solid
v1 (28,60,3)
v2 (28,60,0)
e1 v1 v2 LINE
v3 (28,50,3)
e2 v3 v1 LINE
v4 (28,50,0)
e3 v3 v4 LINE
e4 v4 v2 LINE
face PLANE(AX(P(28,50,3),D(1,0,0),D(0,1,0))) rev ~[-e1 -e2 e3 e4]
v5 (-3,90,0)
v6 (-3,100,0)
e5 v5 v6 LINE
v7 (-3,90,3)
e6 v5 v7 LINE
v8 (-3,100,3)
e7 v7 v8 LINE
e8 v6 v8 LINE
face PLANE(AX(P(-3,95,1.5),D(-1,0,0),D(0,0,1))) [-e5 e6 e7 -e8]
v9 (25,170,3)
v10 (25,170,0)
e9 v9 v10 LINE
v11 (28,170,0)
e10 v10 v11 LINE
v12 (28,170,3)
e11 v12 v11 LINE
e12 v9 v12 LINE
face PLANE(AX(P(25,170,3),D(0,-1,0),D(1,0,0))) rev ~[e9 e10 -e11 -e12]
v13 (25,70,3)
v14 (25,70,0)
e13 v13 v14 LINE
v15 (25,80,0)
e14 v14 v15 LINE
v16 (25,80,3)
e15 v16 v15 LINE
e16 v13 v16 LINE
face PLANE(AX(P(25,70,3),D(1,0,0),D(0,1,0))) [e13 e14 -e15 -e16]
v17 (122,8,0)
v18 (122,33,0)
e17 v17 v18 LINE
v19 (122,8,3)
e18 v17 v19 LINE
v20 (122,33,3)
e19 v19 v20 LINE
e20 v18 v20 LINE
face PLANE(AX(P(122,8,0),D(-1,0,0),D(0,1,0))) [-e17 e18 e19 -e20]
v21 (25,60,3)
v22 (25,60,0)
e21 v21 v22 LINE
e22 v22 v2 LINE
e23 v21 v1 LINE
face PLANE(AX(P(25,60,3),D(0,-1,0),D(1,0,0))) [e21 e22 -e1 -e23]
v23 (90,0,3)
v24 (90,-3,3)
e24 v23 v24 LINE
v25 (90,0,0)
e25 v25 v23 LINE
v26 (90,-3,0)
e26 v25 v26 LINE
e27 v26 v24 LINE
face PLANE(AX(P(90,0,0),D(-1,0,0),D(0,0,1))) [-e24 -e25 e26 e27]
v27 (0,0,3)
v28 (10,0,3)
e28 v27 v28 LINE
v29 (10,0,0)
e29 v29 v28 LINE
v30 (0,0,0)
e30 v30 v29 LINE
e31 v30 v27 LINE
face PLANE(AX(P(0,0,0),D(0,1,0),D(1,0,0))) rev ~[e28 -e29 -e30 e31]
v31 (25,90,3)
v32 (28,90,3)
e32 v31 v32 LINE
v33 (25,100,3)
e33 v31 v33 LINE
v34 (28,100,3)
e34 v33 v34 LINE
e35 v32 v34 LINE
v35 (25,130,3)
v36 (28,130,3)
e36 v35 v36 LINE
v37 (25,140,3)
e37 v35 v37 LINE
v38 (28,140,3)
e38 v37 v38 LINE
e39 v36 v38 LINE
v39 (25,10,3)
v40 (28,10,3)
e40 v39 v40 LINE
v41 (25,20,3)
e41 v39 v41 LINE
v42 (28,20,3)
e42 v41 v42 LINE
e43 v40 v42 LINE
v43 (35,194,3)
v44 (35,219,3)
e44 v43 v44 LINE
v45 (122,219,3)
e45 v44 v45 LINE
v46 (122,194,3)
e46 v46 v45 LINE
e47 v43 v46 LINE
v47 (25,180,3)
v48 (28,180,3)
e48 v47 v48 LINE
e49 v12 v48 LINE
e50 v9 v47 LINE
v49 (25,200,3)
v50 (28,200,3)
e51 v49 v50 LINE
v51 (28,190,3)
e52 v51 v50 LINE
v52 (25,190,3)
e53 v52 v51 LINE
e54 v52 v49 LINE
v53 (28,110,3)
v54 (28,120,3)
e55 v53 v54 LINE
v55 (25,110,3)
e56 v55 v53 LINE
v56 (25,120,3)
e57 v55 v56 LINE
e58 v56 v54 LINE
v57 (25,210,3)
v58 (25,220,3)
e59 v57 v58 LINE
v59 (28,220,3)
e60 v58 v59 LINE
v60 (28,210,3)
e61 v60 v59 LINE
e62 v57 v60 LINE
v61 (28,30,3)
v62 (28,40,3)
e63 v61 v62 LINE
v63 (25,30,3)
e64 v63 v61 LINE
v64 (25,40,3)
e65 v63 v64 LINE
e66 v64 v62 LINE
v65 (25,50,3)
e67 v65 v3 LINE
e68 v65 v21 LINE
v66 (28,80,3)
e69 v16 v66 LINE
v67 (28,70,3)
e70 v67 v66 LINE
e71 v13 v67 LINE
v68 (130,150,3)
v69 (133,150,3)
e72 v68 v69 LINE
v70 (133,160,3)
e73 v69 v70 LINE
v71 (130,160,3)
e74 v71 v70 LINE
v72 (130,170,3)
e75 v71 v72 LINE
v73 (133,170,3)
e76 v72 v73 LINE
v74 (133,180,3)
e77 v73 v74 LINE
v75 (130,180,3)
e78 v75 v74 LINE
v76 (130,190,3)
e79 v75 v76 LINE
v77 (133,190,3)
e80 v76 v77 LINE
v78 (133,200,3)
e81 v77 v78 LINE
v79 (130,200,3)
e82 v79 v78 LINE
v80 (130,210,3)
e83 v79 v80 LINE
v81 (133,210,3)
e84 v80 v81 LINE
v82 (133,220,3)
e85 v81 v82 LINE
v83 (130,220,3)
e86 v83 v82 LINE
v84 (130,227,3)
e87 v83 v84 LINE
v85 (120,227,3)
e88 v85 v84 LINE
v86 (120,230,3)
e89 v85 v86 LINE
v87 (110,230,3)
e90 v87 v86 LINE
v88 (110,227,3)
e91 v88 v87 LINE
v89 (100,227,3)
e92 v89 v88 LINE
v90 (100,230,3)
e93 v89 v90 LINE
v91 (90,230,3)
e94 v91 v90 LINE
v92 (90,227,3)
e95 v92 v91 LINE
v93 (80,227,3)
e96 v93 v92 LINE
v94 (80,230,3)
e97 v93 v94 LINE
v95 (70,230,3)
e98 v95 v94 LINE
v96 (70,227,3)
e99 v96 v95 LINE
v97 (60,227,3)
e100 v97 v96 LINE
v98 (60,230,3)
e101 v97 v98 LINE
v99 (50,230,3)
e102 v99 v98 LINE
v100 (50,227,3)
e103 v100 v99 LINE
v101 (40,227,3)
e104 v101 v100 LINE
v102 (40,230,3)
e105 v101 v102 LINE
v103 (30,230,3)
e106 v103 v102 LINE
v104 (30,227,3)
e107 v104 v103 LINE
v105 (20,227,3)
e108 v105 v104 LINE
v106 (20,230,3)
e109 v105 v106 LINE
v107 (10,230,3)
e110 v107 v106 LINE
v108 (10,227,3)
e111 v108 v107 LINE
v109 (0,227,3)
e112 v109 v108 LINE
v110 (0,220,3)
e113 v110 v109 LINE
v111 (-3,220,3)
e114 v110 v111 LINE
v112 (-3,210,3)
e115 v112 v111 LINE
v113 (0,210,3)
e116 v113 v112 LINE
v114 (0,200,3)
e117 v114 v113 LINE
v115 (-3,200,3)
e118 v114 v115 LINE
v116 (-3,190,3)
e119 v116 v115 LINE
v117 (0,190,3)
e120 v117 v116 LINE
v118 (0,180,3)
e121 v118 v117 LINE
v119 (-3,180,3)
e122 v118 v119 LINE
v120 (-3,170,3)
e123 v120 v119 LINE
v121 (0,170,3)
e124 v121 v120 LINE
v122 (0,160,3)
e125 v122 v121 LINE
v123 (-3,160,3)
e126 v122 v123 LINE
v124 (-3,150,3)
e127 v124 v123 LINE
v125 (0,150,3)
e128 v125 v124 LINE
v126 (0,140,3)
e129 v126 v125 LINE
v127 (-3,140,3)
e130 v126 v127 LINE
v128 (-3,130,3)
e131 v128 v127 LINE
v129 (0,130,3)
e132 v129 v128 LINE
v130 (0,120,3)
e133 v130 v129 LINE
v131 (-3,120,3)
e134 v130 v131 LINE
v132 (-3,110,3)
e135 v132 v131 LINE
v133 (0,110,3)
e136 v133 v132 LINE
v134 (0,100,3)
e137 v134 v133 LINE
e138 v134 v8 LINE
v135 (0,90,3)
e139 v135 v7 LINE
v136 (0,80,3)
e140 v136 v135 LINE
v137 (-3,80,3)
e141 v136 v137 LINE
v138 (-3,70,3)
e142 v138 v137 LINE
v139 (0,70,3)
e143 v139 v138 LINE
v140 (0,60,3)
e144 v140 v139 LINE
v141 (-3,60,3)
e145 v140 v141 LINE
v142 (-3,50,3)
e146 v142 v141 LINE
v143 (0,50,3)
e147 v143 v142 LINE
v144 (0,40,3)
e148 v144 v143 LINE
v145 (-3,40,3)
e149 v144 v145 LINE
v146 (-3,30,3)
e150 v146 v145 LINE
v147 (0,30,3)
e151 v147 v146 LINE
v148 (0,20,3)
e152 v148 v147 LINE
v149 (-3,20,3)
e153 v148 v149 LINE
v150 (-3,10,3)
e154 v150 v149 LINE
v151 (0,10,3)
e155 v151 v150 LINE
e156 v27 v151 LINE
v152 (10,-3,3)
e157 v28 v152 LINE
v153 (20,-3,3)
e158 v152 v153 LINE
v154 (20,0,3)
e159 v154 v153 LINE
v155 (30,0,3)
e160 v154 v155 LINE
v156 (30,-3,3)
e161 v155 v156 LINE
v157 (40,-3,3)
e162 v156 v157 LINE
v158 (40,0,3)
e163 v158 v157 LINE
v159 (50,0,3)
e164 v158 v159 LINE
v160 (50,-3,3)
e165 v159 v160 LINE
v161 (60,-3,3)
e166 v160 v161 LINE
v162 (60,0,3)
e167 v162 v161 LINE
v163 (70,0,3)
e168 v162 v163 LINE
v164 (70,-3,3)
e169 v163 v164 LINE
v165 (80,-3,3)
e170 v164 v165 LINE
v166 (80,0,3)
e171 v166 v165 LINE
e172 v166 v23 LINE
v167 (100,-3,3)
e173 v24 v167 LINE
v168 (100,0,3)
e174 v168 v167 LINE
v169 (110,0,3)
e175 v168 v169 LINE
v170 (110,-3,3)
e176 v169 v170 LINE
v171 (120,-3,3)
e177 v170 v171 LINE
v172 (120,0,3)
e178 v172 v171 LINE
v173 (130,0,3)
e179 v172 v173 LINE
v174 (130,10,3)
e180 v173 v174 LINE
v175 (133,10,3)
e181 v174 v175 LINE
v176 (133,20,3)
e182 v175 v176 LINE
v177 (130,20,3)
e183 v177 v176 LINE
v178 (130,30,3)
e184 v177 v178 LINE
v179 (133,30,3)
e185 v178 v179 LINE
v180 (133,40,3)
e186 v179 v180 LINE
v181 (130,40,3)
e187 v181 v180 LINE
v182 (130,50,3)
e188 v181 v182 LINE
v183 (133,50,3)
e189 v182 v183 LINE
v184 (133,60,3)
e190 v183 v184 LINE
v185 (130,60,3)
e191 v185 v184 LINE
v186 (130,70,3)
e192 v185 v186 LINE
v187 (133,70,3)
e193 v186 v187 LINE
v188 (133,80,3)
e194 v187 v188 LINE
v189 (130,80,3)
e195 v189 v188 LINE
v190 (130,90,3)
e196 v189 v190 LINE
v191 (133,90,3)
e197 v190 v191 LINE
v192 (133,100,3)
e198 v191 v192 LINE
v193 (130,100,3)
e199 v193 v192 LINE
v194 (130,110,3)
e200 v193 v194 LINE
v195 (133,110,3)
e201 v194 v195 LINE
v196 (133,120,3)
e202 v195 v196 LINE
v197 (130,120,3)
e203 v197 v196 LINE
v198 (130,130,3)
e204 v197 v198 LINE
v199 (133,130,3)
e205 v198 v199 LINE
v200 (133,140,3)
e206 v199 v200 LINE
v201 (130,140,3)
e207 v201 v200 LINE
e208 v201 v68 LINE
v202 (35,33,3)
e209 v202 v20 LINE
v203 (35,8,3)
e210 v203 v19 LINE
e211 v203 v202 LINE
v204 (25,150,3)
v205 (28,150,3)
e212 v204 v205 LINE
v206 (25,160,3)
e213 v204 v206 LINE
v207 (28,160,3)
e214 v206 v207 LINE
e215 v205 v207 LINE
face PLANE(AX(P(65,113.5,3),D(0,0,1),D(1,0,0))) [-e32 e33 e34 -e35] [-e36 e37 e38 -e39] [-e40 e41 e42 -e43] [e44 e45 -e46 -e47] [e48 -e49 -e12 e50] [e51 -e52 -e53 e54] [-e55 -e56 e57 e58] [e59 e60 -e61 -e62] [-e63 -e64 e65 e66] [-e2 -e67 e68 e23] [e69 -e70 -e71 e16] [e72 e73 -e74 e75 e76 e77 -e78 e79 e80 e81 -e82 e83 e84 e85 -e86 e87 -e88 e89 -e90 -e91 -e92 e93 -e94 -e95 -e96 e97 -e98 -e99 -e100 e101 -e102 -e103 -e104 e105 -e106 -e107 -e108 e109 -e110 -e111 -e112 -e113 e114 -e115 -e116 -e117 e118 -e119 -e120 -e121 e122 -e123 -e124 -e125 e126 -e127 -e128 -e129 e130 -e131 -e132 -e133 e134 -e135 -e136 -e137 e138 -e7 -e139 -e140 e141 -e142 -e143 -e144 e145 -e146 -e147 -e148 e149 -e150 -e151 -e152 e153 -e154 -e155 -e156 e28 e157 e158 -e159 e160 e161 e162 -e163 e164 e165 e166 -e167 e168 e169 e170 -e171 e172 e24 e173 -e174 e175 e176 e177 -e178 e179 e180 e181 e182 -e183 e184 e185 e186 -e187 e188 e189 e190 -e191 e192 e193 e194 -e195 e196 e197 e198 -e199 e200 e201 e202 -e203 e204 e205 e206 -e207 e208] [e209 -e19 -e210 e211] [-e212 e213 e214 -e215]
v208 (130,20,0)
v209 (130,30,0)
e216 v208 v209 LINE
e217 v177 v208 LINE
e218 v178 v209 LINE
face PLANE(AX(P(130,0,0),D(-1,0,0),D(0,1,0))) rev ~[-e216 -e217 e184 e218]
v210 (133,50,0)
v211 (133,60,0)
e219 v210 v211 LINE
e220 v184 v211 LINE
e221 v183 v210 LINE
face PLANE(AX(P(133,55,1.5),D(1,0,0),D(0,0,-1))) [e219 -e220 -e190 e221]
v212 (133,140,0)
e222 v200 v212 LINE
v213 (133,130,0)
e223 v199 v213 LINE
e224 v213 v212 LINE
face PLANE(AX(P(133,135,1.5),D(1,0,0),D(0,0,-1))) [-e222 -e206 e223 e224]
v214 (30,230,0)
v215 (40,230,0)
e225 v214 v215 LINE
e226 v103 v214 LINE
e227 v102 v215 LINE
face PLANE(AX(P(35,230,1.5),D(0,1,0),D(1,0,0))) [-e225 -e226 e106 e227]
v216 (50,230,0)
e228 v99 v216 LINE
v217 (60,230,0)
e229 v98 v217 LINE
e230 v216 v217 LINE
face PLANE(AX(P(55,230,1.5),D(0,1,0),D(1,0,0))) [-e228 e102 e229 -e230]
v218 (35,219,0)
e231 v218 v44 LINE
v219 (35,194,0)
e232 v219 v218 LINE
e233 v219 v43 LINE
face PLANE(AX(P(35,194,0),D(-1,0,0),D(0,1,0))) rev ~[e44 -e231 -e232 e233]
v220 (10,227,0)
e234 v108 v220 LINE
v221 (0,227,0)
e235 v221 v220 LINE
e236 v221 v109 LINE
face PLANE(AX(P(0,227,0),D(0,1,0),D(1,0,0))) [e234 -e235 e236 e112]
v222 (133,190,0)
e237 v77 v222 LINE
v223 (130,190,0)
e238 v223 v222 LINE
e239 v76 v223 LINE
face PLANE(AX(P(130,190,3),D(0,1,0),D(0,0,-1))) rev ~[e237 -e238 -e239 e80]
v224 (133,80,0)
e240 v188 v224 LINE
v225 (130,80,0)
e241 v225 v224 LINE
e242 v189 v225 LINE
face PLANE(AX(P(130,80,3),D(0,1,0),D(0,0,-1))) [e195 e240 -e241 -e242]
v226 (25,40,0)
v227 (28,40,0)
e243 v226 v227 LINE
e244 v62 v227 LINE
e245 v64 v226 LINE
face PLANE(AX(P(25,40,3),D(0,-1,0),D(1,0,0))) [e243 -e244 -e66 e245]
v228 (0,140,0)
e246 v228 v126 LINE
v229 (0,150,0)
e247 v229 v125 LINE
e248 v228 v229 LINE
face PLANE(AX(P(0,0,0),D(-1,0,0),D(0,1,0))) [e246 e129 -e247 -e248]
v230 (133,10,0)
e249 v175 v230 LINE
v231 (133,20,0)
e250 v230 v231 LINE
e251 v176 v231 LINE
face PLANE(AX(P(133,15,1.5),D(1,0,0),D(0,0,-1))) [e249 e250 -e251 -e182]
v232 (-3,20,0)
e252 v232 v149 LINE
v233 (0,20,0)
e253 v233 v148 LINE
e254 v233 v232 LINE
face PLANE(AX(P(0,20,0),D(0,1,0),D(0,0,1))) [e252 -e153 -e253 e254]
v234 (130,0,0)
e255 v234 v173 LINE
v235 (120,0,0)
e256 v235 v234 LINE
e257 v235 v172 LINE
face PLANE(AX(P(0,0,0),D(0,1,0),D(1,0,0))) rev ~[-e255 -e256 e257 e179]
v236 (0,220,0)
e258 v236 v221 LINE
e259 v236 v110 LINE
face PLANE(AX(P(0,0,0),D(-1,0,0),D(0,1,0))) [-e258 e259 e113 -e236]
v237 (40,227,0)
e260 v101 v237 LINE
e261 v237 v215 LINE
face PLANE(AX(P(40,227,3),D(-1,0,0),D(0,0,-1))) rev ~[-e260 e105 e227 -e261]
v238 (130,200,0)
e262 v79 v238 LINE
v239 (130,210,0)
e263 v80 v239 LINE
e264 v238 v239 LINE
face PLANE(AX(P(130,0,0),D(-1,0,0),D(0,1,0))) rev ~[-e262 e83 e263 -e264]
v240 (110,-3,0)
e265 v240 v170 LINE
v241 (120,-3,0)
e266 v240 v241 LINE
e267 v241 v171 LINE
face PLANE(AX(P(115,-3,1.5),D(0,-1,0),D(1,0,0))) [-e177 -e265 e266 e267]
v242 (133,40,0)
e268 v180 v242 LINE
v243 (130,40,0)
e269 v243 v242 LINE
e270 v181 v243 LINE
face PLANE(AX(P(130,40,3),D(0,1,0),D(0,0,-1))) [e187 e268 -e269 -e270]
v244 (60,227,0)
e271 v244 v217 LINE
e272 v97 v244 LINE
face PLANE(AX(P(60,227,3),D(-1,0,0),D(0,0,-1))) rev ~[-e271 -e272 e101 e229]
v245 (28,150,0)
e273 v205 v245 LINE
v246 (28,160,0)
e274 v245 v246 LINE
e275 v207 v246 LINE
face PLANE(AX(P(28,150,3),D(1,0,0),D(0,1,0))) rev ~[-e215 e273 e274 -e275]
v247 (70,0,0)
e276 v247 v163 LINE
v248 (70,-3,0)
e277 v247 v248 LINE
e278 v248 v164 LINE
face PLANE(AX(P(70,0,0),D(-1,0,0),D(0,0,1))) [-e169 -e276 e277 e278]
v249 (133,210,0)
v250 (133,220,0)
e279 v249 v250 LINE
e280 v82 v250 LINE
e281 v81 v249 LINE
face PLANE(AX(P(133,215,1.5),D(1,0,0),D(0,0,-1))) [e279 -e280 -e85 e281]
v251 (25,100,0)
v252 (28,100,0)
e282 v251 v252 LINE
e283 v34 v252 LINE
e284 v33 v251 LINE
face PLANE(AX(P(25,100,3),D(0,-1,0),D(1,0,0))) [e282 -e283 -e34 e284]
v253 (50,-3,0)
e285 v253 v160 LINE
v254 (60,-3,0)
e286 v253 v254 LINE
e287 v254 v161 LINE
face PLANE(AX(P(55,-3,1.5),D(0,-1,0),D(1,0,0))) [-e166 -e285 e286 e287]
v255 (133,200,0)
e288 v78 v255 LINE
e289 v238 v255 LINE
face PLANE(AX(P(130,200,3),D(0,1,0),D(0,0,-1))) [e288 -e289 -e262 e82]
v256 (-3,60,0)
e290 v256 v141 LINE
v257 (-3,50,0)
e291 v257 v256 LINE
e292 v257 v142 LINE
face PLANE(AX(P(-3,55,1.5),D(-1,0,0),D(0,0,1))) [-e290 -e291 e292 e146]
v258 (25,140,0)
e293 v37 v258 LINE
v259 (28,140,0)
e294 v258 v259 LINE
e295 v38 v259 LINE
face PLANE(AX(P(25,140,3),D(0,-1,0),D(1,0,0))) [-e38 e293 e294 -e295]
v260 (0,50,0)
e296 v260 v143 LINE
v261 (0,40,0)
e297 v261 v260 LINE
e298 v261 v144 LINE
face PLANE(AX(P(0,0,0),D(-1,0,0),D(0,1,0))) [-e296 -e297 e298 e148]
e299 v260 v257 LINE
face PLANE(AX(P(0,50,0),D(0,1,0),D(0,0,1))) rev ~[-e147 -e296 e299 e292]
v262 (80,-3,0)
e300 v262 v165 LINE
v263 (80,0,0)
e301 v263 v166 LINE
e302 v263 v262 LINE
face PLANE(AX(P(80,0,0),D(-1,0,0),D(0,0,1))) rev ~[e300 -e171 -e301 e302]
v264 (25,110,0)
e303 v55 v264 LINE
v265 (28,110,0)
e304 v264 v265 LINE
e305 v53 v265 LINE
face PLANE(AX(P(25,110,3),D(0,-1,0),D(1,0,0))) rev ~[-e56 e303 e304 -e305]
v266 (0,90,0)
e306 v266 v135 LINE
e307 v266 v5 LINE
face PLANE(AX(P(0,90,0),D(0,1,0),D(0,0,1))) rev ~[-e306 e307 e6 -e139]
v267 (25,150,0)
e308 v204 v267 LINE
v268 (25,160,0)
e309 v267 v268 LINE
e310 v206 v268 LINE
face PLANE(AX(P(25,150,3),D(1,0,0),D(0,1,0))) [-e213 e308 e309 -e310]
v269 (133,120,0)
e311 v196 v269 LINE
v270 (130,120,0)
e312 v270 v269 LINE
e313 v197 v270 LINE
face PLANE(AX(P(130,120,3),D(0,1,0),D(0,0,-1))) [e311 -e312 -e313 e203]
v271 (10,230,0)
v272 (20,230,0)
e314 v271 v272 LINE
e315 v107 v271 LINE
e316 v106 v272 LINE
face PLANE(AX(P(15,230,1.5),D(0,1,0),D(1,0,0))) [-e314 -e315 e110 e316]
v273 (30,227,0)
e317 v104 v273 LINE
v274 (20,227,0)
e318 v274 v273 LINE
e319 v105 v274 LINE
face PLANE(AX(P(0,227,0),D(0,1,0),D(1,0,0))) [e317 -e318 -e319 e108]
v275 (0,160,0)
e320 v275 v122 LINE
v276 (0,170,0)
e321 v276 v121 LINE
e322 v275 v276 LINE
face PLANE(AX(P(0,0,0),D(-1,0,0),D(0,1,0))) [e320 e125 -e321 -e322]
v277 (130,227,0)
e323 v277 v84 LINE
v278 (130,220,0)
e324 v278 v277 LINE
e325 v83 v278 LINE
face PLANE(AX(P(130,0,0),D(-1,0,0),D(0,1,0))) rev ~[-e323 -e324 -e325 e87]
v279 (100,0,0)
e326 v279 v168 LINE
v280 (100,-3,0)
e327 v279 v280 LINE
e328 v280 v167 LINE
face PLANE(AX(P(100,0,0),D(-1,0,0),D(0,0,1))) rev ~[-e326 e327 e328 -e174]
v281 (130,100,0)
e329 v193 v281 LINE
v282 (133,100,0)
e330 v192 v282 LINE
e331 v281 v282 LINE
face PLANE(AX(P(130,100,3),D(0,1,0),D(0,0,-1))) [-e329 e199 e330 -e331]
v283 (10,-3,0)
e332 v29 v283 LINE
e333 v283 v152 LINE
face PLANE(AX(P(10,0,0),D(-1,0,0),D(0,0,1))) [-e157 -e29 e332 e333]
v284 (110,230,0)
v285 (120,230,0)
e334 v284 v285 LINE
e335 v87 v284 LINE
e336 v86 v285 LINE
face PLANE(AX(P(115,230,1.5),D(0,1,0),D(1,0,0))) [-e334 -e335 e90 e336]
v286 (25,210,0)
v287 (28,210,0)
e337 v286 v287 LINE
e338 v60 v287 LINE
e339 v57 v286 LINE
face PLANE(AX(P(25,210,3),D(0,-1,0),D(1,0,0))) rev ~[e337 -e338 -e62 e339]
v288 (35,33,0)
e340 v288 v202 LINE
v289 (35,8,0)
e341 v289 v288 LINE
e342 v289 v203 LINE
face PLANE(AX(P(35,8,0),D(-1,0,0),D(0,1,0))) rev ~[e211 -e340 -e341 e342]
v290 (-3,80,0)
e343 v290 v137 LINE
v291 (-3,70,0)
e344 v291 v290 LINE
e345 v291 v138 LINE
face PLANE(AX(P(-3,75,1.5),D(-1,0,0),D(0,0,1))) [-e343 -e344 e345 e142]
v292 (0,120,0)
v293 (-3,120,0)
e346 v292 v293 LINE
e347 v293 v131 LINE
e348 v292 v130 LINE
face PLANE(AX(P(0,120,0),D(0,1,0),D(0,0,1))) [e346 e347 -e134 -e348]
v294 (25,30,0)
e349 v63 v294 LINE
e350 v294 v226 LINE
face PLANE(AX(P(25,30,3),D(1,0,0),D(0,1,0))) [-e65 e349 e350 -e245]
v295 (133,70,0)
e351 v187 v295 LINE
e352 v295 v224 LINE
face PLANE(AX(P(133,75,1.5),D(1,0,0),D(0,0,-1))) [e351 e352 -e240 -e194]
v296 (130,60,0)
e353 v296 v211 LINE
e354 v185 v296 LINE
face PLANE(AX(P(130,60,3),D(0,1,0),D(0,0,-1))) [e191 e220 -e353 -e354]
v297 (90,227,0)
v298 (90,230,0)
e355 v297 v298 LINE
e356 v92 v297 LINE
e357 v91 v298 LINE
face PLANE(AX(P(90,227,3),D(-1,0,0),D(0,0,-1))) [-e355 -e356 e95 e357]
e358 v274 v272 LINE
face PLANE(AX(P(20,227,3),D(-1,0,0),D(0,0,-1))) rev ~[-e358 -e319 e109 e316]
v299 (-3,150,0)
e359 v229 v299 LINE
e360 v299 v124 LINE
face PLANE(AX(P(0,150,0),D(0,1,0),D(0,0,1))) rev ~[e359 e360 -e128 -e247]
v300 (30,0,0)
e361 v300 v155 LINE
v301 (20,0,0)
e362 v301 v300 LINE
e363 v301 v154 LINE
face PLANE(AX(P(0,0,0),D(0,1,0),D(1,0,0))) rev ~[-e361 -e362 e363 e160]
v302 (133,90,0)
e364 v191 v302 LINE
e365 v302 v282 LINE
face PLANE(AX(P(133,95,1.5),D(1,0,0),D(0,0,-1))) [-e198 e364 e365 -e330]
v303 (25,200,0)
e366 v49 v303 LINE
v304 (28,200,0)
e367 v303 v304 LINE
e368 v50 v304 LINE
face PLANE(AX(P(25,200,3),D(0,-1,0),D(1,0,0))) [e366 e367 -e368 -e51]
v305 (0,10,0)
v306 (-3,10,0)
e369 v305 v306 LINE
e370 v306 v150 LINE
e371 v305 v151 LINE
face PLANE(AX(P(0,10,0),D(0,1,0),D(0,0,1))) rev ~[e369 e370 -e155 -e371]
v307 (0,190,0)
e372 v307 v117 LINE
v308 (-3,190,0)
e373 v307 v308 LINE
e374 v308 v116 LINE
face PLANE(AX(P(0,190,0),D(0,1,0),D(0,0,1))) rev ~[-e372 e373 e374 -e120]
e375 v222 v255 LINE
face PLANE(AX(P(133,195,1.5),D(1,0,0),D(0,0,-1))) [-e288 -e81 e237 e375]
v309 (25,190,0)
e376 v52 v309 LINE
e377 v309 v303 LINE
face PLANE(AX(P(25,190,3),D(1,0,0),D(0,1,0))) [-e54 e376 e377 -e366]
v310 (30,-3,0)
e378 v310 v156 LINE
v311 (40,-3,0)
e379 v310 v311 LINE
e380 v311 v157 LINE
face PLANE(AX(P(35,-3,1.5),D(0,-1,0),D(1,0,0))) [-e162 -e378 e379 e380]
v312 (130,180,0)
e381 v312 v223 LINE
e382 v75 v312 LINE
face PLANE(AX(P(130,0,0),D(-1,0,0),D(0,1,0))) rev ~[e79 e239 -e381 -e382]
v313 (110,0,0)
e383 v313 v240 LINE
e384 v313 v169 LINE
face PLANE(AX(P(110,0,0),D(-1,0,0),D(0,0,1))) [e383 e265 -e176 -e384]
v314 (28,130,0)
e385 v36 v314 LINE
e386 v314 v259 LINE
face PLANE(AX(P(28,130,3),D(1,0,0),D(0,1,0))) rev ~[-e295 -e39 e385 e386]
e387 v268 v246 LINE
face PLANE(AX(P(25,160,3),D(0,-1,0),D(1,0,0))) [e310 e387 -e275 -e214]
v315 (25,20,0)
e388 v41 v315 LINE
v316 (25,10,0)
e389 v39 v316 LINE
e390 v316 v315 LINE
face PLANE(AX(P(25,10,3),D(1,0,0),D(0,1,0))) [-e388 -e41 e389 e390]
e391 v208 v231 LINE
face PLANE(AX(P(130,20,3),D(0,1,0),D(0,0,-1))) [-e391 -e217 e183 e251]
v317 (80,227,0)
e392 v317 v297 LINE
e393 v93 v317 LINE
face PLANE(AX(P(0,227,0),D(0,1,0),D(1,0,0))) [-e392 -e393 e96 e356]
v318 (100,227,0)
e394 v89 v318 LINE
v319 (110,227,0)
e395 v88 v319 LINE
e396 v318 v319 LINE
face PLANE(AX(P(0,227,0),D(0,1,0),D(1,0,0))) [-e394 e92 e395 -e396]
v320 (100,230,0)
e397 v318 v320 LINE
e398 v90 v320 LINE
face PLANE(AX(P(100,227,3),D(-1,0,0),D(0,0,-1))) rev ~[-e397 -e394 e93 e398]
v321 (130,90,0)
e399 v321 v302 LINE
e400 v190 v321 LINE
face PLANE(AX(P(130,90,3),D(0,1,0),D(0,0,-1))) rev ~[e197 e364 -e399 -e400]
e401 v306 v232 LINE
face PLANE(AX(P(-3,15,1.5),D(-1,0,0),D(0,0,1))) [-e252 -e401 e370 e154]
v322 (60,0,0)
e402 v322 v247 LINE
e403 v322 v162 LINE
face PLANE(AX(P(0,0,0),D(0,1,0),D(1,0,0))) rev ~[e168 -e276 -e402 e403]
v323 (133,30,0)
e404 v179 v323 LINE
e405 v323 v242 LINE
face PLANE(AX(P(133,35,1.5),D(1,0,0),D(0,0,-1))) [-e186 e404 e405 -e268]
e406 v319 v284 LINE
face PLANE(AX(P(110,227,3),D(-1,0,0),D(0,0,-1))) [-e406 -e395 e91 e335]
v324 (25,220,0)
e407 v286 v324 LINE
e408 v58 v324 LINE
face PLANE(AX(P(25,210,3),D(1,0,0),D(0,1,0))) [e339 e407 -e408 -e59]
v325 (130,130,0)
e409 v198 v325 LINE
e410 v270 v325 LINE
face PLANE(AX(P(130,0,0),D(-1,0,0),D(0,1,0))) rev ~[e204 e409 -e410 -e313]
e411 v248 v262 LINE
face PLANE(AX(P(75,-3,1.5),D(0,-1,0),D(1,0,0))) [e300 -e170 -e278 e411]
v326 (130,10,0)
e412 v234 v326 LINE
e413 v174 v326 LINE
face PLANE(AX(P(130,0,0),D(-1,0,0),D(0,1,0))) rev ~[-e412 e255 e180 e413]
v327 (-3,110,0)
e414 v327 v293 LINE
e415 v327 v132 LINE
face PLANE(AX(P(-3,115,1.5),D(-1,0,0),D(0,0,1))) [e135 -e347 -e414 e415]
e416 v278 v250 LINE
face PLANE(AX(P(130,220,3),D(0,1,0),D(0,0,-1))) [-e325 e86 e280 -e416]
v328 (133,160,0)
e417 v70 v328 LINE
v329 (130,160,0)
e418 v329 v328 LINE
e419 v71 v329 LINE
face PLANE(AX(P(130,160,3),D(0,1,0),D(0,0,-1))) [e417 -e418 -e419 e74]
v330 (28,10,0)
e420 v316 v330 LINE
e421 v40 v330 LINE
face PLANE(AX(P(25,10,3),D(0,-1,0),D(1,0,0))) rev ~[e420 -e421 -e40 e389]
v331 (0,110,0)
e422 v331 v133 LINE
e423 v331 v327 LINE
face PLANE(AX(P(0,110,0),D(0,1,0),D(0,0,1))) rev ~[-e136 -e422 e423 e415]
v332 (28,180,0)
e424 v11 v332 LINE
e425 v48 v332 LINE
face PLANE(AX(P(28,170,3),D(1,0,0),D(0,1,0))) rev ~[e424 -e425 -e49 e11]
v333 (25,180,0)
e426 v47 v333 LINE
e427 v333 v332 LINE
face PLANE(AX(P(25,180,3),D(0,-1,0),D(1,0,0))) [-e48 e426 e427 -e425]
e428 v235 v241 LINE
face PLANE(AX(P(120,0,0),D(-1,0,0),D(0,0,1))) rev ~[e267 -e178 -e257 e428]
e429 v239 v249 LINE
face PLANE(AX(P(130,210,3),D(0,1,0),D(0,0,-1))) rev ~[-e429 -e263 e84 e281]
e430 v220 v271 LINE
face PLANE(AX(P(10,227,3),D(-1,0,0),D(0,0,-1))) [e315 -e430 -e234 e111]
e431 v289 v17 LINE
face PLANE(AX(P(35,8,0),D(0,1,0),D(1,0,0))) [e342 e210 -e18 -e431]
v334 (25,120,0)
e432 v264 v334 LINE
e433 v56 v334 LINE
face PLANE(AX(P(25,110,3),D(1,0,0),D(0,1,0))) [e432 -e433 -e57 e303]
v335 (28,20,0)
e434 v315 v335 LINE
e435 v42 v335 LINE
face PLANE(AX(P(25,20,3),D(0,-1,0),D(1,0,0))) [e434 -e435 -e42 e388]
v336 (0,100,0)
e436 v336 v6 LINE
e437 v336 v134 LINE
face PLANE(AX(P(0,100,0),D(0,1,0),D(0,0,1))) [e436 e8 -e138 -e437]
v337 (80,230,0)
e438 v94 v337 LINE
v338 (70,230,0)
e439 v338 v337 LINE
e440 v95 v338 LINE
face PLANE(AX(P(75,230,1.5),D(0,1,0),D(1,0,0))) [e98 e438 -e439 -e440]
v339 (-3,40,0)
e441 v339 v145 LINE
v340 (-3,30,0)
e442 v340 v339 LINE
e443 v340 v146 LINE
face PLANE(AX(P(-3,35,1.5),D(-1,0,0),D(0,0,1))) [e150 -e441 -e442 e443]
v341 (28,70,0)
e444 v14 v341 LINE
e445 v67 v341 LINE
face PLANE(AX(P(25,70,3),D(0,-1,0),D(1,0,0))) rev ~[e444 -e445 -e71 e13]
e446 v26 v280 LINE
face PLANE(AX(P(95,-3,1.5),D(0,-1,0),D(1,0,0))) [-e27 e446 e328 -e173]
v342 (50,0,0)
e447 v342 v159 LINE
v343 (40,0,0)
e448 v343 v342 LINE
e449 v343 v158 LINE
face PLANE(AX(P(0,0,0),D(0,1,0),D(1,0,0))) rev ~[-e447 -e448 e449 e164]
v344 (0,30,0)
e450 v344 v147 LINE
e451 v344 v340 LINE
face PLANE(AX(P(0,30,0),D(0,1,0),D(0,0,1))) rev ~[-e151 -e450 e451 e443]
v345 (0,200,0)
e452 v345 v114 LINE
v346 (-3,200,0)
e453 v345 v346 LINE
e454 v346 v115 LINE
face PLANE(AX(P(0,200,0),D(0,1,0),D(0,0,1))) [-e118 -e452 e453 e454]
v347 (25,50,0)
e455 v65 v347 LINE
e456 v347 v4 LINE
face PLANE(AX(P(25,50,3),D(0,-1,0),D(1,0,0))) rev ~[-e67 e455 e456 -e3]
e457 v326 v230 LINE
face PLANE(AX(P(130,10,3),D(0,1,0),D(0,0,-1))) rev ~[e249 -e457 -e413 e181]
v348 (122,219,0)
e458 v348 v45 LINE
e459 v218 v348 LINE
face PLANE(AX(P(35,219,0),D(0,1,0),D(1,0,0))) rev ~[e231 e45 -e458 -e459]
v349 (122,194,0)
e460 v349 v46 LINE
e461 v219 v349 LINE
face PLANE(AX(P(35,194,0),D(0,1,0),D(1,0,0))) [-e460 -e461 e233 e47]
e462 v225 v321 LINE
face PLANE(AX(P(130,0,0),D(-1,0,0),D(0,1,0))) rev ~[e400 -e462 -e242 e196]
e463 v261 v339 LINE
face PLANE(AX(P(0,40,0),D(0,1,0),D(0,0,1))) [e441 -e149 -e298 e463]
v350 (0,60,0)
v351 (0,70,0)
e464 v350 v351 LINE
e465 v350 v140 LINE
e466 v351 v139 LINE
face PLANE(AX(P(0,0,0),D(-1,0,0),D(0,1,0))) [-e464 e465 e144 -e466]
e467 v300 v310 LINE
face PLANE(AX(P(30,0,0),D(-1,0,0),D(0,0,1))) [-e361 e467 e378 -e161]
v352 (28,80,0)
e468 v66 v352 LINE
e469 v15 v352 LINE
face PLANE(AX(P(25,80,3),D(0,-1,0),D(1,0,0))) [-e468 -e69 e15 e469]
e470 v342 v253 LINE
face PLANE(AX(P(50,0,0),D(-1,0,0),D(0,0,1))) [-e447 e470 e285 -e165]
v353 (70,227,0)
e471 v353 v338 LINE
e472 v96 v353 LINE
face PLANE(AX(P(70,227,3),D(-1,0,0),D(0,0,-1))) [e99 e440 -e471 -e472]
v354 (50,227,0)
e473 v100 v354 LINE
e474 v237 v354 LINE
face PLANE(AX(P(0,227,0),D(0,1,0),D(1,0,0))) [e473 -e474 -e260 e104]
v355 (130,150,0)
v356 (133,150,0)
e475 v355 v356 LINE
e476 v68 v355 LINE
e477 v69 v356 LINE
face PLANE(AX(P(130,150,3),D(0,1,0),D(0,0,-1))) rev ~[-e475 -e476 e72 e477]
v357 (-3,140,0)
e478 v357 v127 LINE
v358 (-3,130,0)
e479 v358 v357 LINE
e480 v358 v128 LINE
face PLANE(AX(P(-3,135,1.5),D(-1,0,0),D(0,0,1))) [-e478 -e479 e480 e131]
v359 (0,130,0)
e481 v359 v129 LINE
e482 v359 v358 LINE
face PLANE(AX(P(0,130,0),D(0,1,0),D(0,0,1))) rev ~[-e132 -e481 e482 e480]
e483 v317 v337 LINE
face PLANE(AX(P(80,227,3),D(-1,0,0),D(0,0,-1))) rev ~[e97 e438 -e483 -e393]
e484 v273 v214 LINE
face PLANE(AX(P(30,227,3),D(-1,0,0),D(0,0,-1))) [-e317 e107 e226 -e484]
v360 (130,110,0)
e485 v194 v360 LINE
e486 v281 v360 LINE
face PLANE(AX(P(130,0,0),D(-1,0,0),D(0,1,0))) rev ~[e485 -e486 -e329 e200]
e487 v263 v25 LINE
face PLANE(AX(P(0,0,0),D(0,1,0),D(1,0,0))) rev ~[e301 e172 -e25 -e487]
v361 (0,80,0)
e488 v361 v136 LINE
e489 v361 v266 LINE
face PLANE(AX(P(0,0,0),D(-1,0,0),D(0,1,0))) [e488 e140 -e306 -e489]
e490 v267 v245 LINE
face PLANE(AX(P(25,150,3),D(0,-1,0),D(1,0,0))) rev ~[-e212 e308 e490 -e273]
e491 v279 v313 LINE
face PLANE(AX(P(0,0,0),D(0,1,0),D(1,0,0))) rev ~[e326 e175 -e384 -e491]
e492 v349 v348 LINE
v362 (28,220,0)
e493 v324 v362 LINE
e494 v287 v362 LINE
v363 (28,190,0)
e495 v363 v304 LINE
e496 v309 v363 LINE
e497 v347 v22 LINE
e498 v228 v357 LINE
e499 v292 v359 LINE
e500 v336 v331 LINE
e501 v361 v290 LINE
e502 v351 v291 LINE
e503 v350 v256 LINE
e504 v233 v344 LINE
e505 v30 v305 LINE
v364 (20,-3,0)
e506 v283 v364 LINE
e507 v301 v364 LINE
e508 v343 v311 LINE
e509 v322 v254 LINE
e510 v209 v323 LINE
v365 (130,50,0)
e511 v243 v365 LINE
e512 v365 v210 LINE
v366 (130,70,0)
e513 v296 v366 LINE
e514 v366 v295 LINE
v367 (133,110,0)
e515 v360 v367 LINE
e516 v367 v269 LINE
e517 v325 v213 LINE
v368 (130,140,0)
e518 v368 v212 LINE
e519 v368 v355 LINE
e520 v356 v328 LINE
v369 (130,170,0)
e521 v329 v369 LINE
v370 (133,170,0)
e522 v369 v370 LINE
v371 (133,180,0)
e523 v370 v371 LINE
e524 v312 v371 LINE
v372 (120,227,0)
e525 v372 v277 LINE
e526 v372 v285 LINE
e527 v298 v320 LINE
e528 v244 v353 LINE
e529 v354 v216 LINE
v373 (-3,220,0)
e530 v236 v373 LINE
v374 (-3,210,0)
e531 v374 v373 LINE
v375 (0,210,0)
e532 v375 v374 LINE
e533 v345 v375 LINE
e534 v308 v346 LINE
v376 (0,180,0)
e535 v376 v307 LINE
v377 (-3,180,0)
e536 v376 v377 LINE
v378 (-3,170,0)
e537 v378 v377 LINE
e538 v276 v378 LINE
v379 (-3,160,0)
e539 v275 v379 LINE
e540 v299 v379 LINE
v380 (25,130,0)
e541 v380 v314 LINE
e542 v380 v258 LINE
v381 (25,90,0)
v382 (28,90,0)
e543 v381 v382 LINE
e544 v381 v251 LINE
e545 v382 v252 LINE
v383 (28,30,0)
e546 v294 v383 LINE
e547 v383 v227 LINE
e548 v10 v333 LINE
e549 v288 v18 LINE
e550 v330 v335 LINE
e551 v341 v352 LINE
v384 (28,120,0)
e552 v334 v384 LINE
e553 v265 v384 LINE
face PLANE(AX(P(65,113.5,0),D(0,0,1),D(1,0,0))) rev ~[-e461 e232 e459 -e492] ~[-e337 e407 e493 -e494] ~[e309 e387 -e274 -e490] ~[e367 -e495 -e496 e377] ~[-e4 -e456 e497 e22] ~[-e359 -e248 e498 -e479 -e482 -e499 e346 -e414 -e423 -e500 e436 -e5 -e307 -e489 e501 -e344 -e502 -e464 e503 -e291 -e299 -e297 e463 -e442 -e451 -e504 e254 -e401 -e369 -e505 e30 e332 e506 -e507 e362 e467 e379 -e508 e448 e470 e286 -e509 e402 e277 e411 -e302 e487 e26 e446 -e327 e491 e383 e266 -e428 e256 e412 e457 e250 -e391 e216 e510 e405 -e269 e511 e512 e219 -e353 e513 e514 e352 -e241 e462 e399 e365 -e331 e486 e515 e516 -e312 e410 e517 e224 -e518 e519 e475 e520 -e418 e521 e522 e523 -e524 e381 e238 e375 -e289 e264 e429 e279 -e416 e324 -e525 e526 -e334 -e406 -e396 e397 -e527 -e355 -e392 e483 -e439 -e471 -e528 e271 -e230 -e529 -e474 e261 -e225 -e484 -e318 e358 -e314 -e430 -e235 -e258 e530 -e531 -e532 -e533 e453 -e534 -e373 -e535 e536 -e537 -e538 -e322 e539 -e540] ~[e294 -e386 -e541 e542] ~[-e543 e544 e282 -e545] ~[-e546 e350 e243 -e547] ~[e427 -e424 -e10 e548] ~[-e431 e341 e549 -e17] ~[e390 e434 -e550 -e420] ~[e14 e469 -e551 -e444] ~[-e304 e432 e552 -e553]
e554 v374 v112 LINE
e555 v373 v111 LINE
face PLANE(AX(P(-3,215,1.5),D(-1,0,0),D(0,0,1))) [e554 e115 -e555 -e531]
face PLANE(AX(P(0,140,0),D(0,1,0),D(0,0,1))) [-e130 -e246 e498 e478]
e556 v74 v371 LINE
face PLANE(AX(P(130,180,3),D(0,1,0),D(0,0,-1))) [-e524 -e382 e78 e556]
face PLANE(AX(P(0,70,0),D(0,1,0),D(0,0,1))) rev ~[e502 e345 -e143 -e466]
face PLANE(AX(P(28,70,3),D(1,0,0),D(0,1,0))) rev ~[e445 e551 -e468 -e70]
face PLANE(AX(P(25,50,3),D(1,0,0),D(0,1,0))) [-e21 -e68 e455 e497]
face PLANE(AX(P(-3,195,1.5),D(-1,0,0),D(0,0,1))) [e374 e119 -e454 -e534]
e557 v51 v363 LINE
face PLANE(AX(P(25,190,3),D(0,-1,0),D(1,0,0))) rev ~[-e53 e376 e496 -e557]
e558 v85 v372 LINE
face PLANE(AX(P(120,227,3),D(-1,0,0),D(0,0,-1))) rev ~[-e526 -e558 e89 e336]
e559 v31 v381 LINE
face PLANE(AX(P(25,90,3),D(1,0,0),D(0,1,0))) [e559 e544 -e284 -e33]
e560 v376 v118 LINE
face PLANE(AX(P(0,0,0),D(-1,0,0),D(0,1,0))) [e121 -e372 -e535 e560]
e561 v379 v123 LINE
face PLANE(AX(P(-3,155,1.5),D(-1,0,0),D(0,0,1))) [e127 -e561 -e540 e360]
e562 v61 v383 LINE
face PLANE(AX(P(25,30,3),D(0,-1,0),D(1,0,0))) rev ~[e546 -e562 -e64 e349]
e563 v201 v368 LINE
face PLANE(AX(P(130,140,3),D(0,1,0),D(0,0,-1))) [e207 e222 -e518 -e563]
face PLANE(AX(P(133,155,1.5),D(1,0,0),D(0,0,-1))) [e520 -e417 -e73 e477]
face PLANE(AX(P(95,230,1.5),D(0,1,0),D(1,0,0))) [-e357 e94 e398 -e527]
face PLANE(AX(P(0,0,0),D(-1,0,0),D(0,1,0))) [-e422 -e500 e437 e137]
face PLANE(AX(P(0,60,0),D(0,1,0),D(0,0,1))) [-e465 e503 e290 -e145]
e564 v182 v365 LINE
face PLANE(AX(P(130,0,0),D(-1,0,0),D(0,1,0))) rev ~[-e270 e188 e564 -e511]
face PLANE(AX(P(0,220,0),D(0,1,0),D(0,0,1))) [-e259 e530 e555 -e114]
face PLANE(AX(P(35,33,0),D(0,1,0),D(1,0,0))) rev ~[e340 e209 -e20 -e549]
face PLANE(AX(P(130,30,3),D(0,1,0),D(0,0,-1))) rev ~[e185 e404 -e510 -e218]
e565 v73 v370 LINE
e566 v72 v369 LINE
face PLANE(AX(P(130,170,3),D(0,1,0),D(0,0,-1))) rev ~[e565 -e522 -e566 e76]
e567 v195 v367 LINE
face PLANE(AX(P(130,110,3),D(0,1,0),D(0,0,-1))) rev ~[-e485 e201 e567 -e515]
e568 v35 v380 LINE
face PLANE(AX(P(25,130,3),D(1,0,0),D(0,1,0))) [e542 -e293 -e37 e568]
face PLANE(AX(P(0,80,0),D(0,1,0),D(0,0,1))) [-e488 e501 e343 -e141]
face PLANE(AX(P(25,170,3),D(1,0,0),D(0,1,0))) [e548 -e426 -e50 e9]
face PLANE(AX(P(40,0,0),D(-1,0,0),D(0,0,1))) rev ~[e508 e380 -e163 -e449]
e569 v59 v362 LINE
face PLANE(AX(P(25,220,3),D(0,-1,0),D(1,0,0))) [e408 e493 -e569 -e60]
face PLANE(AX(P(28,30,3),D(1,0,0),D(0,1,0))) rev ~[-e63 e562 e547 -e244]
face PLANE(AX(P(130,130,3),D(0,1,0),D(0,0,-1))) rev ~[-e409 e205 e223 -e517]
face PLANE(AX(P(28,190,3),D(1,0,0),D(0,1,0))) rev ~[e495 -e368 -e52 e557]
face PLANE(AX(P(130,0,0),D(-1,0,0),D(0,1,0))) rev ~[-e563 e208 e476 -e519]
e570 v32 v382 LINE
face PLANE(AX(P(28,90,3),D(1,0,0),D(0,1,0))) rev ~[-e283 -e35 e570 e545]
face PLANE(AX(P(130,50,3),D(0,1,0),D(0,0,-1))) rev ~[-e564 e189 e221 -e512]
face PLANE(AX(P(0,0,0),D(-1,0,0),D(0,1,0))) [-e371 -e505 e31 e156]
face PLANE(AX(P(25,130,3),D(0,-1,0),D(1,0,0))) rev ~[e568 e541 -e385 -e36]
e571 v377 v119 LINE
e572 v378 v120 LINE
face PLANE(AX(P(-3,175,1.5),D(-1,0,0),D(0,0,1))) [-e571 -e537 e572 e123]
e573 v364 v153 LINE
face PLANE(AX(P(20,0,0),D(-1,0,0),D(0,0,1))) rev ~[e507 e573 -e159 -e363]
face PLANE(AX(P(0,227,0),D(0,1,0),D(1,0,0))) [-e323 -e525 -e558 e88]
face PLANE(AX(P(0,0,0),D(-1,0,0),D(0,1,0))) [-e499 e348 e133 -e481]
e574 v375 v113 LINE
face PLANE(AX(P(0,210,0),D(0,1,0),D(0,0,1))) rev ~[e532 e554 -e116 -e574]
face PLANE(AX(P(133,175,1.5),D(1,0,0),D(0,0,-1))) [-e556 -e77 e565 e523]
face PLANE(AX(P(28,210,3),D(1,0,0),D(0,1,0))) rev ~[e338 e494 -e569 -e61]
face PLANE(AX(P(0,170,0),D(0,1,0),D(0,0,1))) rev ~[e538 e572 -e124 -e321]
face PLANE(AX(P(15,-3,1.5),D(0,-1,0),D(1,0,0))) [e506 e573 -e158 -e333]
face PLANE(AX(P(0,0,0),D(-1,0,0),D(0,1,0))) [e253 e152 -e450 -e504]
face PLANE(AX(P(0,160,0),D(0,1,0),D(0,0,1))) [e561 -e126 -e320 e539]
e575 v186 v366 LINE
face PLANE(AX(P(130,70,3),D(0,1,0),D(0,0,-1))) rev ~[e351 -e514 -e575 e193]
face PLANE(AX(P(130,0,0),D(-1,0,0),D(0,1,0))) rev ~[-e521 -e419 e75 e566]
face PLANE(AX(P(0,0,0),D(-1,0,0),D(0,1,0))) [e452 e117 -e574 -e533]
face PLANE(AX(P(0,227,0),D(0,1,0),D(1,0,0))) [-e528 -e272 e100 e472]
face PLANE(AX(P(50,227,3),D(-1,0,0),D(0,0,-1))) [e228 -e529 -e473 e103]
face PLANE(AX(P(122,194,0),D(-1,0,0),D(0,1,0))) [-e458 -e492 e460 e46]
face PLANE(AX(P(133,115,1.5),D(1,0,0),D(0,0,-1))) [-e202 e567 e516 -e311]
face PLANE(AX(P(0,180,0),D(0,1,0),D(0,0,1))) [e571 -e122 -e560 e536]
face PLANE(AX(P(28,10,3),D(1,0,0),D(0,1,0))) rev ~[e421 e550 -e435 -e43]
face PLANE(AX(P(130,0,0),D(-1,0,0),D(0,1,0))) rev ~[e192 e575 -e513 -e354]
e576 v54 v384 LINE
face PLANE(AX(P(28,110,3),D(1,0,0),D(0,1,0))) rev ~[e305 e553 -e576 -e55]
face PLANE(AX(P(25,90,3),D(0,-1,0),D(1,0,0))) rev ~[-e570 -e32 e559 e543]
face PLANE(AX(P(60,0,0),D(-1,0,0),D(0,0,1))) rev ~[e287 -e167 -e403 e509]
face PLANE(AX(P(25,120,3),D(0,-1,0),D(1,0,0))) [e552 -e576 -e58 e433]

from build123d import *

# Parameters (mm, degrees)
SKETCH1_W           = 130
SKETCH1_H           = 227
SKETCH1_W_2         = 87
SKETCH1_H_2         = 25
BOSS_EXTRUDE1_DEPTH = 3
SKETCH2_W           = 10
SKETCH2_H           = 3
BOSS_EXTRUDE2_DEPTH = 3
LPATTERN1_COUNT     = 6
LPATTERN1_PITCH     = 20
SKETCH3_W           = 10
SKETCH3_H           = 3
BOSS_EXTRUDE3_DEPTH = 3
LPATTERN2_COUNT     = 6
LPATTERN2_PITCH     = 20
SKETCH4_W           = 3
SKETCH4_H           = 10
BOSS_EXTRUDE4_DEPTH = 3
LPATTERN3_COUNT     = 11
LPATTERN3_PITCH     = 20
SKETCH5_W           = 3
SKETCH5_H           = 10
BOSS_EXTRUDE5_DEPTH = 3
LPATTERN4_COUNT     = 11
LPATTERN4_PITCH     = 20
SKETCH6_W           = 3
SKETCH6_H           = 10
CUT_EXTRUDE1_DEPTH  = 3
LPATTERN5_COUNT     = 11
LPATTERN5_PITCH     = 20


with BuildPart() as part:
    # Sketch1 → Boss-Extrude1 (new body)
    with BuildSketch(Plane.XY):
        with Locations((65, 113.5)):
            Rectangle(SKETCH1_W, SKETCH1_H)
        with Locations((78.5, 20.5)):
            Rectangle(SKETCH1_W_2, SKETCH1_H_2, mode=Mode.SUBTRACT)
        with Locations((78.5, 206.5)):
            Rectangle(SKETCH1_W_2, SKETCH1_H_2, mode=Mode.SUBTRACT)
    extrude(amount=BOSS_EXTRUDE1_DEPTH)

    # Sketch2 → Boss-Extrude2 (add)
    with BuildSketch(Plane.XZ):
        with Locations((15, 1.5)):
            Rectangle(SKETCH2_W, SKETCH2_H)
    boss_extrude2 = extrude(amount=BOSS_EXTRUDE2_DEPTH)

    # LPattern1: Boss-Extrude2 ×6
    with Locations(*[(i * LPATTERN1_PITCH, 0, 0) for i in range(1, LPATTERN1_COUNT)]):
        add(boss_extrude2)

    # Sketch3 → Boss-Extrude3 (add)
    with BuildSketch(Plane(origin=(0, 227, 0), x_dir=(1, 0, 0), z_dir=(0, 1, 0))):
        with Locations((15, -1.5)):
            Rectangle(SKETCH3_W, SKETCH3_H)
    boss_extrude3 = extrude(amount=BOSS_EXTRUDE3_DEPTH)

    # LPattern2: Boss-Extrude3 ×6
    with Locations(*[(i * LPATTERN2_PITCH, 0, 0) for i in range(1, LPATTERN2_COUNT)]):
        add(boss_extrude3)

    # Sketch4 → Boss-Extrude4 (add)
    with BuildSketch(Plane(origin=(130, 0, 0), x_dir=(0, 0, -1), z_dir=(1, 0, 0))):
        with Locations((-1.5, 15)):
            Rectangle(SKETCH4_W, SKETCH4_H)
    boss_extrude4 = extrude(amount=BOSS_EXTRUDE4_DEPTH)

    # LPattern3: Boss-Extrude4 ×11
    with Locations(*[(0, i * LPATTERN3_PITCH, 0) for i in range(1, LPATTERN3_COUNT)]):
        add(boss_extrude4)

    # Sketch5 → Boss-Extrude5 (add)
    with BuildSketch(Plane.ZY):
        with Locations((1.5, 15)):
            Rectangle(SKETCH5_W, SKETCH5_H)
    boss_extrude5 = extrude(amount=BOSS_EXTRUDE5_DEPTH)

    # LPattern4: Boss-Extrude5 ×11
    with Locations(*[(0, i * LPATTERN4_PITCH, 0) for i in range(1, LPATTERN4_COUNT)]):
        add(boss_extrude5)

    # Sketch6 → Cut-Extrude1 (cut)
    with BuildSketch(Plane.XY.offset(3)):
        with Locations((26.5, 15)):
            Rectangle(SKETCH6_W, SKETCH6_H)
    cut_extrude1 = extrude(amount=-CUT_EXTRUDE1_DEPTH, mode=Mode.SUBTRACT)

    # LPattern5: Cut-Extrude1 ×11
    with Locations(*[(0, i * LPATTERN5_PITCH, 0) for i in range(1, LPATTERN5_COUNT)]):
        add(cut_extrude1, mode=Mode.SUBTRACT)


solid = part.part
